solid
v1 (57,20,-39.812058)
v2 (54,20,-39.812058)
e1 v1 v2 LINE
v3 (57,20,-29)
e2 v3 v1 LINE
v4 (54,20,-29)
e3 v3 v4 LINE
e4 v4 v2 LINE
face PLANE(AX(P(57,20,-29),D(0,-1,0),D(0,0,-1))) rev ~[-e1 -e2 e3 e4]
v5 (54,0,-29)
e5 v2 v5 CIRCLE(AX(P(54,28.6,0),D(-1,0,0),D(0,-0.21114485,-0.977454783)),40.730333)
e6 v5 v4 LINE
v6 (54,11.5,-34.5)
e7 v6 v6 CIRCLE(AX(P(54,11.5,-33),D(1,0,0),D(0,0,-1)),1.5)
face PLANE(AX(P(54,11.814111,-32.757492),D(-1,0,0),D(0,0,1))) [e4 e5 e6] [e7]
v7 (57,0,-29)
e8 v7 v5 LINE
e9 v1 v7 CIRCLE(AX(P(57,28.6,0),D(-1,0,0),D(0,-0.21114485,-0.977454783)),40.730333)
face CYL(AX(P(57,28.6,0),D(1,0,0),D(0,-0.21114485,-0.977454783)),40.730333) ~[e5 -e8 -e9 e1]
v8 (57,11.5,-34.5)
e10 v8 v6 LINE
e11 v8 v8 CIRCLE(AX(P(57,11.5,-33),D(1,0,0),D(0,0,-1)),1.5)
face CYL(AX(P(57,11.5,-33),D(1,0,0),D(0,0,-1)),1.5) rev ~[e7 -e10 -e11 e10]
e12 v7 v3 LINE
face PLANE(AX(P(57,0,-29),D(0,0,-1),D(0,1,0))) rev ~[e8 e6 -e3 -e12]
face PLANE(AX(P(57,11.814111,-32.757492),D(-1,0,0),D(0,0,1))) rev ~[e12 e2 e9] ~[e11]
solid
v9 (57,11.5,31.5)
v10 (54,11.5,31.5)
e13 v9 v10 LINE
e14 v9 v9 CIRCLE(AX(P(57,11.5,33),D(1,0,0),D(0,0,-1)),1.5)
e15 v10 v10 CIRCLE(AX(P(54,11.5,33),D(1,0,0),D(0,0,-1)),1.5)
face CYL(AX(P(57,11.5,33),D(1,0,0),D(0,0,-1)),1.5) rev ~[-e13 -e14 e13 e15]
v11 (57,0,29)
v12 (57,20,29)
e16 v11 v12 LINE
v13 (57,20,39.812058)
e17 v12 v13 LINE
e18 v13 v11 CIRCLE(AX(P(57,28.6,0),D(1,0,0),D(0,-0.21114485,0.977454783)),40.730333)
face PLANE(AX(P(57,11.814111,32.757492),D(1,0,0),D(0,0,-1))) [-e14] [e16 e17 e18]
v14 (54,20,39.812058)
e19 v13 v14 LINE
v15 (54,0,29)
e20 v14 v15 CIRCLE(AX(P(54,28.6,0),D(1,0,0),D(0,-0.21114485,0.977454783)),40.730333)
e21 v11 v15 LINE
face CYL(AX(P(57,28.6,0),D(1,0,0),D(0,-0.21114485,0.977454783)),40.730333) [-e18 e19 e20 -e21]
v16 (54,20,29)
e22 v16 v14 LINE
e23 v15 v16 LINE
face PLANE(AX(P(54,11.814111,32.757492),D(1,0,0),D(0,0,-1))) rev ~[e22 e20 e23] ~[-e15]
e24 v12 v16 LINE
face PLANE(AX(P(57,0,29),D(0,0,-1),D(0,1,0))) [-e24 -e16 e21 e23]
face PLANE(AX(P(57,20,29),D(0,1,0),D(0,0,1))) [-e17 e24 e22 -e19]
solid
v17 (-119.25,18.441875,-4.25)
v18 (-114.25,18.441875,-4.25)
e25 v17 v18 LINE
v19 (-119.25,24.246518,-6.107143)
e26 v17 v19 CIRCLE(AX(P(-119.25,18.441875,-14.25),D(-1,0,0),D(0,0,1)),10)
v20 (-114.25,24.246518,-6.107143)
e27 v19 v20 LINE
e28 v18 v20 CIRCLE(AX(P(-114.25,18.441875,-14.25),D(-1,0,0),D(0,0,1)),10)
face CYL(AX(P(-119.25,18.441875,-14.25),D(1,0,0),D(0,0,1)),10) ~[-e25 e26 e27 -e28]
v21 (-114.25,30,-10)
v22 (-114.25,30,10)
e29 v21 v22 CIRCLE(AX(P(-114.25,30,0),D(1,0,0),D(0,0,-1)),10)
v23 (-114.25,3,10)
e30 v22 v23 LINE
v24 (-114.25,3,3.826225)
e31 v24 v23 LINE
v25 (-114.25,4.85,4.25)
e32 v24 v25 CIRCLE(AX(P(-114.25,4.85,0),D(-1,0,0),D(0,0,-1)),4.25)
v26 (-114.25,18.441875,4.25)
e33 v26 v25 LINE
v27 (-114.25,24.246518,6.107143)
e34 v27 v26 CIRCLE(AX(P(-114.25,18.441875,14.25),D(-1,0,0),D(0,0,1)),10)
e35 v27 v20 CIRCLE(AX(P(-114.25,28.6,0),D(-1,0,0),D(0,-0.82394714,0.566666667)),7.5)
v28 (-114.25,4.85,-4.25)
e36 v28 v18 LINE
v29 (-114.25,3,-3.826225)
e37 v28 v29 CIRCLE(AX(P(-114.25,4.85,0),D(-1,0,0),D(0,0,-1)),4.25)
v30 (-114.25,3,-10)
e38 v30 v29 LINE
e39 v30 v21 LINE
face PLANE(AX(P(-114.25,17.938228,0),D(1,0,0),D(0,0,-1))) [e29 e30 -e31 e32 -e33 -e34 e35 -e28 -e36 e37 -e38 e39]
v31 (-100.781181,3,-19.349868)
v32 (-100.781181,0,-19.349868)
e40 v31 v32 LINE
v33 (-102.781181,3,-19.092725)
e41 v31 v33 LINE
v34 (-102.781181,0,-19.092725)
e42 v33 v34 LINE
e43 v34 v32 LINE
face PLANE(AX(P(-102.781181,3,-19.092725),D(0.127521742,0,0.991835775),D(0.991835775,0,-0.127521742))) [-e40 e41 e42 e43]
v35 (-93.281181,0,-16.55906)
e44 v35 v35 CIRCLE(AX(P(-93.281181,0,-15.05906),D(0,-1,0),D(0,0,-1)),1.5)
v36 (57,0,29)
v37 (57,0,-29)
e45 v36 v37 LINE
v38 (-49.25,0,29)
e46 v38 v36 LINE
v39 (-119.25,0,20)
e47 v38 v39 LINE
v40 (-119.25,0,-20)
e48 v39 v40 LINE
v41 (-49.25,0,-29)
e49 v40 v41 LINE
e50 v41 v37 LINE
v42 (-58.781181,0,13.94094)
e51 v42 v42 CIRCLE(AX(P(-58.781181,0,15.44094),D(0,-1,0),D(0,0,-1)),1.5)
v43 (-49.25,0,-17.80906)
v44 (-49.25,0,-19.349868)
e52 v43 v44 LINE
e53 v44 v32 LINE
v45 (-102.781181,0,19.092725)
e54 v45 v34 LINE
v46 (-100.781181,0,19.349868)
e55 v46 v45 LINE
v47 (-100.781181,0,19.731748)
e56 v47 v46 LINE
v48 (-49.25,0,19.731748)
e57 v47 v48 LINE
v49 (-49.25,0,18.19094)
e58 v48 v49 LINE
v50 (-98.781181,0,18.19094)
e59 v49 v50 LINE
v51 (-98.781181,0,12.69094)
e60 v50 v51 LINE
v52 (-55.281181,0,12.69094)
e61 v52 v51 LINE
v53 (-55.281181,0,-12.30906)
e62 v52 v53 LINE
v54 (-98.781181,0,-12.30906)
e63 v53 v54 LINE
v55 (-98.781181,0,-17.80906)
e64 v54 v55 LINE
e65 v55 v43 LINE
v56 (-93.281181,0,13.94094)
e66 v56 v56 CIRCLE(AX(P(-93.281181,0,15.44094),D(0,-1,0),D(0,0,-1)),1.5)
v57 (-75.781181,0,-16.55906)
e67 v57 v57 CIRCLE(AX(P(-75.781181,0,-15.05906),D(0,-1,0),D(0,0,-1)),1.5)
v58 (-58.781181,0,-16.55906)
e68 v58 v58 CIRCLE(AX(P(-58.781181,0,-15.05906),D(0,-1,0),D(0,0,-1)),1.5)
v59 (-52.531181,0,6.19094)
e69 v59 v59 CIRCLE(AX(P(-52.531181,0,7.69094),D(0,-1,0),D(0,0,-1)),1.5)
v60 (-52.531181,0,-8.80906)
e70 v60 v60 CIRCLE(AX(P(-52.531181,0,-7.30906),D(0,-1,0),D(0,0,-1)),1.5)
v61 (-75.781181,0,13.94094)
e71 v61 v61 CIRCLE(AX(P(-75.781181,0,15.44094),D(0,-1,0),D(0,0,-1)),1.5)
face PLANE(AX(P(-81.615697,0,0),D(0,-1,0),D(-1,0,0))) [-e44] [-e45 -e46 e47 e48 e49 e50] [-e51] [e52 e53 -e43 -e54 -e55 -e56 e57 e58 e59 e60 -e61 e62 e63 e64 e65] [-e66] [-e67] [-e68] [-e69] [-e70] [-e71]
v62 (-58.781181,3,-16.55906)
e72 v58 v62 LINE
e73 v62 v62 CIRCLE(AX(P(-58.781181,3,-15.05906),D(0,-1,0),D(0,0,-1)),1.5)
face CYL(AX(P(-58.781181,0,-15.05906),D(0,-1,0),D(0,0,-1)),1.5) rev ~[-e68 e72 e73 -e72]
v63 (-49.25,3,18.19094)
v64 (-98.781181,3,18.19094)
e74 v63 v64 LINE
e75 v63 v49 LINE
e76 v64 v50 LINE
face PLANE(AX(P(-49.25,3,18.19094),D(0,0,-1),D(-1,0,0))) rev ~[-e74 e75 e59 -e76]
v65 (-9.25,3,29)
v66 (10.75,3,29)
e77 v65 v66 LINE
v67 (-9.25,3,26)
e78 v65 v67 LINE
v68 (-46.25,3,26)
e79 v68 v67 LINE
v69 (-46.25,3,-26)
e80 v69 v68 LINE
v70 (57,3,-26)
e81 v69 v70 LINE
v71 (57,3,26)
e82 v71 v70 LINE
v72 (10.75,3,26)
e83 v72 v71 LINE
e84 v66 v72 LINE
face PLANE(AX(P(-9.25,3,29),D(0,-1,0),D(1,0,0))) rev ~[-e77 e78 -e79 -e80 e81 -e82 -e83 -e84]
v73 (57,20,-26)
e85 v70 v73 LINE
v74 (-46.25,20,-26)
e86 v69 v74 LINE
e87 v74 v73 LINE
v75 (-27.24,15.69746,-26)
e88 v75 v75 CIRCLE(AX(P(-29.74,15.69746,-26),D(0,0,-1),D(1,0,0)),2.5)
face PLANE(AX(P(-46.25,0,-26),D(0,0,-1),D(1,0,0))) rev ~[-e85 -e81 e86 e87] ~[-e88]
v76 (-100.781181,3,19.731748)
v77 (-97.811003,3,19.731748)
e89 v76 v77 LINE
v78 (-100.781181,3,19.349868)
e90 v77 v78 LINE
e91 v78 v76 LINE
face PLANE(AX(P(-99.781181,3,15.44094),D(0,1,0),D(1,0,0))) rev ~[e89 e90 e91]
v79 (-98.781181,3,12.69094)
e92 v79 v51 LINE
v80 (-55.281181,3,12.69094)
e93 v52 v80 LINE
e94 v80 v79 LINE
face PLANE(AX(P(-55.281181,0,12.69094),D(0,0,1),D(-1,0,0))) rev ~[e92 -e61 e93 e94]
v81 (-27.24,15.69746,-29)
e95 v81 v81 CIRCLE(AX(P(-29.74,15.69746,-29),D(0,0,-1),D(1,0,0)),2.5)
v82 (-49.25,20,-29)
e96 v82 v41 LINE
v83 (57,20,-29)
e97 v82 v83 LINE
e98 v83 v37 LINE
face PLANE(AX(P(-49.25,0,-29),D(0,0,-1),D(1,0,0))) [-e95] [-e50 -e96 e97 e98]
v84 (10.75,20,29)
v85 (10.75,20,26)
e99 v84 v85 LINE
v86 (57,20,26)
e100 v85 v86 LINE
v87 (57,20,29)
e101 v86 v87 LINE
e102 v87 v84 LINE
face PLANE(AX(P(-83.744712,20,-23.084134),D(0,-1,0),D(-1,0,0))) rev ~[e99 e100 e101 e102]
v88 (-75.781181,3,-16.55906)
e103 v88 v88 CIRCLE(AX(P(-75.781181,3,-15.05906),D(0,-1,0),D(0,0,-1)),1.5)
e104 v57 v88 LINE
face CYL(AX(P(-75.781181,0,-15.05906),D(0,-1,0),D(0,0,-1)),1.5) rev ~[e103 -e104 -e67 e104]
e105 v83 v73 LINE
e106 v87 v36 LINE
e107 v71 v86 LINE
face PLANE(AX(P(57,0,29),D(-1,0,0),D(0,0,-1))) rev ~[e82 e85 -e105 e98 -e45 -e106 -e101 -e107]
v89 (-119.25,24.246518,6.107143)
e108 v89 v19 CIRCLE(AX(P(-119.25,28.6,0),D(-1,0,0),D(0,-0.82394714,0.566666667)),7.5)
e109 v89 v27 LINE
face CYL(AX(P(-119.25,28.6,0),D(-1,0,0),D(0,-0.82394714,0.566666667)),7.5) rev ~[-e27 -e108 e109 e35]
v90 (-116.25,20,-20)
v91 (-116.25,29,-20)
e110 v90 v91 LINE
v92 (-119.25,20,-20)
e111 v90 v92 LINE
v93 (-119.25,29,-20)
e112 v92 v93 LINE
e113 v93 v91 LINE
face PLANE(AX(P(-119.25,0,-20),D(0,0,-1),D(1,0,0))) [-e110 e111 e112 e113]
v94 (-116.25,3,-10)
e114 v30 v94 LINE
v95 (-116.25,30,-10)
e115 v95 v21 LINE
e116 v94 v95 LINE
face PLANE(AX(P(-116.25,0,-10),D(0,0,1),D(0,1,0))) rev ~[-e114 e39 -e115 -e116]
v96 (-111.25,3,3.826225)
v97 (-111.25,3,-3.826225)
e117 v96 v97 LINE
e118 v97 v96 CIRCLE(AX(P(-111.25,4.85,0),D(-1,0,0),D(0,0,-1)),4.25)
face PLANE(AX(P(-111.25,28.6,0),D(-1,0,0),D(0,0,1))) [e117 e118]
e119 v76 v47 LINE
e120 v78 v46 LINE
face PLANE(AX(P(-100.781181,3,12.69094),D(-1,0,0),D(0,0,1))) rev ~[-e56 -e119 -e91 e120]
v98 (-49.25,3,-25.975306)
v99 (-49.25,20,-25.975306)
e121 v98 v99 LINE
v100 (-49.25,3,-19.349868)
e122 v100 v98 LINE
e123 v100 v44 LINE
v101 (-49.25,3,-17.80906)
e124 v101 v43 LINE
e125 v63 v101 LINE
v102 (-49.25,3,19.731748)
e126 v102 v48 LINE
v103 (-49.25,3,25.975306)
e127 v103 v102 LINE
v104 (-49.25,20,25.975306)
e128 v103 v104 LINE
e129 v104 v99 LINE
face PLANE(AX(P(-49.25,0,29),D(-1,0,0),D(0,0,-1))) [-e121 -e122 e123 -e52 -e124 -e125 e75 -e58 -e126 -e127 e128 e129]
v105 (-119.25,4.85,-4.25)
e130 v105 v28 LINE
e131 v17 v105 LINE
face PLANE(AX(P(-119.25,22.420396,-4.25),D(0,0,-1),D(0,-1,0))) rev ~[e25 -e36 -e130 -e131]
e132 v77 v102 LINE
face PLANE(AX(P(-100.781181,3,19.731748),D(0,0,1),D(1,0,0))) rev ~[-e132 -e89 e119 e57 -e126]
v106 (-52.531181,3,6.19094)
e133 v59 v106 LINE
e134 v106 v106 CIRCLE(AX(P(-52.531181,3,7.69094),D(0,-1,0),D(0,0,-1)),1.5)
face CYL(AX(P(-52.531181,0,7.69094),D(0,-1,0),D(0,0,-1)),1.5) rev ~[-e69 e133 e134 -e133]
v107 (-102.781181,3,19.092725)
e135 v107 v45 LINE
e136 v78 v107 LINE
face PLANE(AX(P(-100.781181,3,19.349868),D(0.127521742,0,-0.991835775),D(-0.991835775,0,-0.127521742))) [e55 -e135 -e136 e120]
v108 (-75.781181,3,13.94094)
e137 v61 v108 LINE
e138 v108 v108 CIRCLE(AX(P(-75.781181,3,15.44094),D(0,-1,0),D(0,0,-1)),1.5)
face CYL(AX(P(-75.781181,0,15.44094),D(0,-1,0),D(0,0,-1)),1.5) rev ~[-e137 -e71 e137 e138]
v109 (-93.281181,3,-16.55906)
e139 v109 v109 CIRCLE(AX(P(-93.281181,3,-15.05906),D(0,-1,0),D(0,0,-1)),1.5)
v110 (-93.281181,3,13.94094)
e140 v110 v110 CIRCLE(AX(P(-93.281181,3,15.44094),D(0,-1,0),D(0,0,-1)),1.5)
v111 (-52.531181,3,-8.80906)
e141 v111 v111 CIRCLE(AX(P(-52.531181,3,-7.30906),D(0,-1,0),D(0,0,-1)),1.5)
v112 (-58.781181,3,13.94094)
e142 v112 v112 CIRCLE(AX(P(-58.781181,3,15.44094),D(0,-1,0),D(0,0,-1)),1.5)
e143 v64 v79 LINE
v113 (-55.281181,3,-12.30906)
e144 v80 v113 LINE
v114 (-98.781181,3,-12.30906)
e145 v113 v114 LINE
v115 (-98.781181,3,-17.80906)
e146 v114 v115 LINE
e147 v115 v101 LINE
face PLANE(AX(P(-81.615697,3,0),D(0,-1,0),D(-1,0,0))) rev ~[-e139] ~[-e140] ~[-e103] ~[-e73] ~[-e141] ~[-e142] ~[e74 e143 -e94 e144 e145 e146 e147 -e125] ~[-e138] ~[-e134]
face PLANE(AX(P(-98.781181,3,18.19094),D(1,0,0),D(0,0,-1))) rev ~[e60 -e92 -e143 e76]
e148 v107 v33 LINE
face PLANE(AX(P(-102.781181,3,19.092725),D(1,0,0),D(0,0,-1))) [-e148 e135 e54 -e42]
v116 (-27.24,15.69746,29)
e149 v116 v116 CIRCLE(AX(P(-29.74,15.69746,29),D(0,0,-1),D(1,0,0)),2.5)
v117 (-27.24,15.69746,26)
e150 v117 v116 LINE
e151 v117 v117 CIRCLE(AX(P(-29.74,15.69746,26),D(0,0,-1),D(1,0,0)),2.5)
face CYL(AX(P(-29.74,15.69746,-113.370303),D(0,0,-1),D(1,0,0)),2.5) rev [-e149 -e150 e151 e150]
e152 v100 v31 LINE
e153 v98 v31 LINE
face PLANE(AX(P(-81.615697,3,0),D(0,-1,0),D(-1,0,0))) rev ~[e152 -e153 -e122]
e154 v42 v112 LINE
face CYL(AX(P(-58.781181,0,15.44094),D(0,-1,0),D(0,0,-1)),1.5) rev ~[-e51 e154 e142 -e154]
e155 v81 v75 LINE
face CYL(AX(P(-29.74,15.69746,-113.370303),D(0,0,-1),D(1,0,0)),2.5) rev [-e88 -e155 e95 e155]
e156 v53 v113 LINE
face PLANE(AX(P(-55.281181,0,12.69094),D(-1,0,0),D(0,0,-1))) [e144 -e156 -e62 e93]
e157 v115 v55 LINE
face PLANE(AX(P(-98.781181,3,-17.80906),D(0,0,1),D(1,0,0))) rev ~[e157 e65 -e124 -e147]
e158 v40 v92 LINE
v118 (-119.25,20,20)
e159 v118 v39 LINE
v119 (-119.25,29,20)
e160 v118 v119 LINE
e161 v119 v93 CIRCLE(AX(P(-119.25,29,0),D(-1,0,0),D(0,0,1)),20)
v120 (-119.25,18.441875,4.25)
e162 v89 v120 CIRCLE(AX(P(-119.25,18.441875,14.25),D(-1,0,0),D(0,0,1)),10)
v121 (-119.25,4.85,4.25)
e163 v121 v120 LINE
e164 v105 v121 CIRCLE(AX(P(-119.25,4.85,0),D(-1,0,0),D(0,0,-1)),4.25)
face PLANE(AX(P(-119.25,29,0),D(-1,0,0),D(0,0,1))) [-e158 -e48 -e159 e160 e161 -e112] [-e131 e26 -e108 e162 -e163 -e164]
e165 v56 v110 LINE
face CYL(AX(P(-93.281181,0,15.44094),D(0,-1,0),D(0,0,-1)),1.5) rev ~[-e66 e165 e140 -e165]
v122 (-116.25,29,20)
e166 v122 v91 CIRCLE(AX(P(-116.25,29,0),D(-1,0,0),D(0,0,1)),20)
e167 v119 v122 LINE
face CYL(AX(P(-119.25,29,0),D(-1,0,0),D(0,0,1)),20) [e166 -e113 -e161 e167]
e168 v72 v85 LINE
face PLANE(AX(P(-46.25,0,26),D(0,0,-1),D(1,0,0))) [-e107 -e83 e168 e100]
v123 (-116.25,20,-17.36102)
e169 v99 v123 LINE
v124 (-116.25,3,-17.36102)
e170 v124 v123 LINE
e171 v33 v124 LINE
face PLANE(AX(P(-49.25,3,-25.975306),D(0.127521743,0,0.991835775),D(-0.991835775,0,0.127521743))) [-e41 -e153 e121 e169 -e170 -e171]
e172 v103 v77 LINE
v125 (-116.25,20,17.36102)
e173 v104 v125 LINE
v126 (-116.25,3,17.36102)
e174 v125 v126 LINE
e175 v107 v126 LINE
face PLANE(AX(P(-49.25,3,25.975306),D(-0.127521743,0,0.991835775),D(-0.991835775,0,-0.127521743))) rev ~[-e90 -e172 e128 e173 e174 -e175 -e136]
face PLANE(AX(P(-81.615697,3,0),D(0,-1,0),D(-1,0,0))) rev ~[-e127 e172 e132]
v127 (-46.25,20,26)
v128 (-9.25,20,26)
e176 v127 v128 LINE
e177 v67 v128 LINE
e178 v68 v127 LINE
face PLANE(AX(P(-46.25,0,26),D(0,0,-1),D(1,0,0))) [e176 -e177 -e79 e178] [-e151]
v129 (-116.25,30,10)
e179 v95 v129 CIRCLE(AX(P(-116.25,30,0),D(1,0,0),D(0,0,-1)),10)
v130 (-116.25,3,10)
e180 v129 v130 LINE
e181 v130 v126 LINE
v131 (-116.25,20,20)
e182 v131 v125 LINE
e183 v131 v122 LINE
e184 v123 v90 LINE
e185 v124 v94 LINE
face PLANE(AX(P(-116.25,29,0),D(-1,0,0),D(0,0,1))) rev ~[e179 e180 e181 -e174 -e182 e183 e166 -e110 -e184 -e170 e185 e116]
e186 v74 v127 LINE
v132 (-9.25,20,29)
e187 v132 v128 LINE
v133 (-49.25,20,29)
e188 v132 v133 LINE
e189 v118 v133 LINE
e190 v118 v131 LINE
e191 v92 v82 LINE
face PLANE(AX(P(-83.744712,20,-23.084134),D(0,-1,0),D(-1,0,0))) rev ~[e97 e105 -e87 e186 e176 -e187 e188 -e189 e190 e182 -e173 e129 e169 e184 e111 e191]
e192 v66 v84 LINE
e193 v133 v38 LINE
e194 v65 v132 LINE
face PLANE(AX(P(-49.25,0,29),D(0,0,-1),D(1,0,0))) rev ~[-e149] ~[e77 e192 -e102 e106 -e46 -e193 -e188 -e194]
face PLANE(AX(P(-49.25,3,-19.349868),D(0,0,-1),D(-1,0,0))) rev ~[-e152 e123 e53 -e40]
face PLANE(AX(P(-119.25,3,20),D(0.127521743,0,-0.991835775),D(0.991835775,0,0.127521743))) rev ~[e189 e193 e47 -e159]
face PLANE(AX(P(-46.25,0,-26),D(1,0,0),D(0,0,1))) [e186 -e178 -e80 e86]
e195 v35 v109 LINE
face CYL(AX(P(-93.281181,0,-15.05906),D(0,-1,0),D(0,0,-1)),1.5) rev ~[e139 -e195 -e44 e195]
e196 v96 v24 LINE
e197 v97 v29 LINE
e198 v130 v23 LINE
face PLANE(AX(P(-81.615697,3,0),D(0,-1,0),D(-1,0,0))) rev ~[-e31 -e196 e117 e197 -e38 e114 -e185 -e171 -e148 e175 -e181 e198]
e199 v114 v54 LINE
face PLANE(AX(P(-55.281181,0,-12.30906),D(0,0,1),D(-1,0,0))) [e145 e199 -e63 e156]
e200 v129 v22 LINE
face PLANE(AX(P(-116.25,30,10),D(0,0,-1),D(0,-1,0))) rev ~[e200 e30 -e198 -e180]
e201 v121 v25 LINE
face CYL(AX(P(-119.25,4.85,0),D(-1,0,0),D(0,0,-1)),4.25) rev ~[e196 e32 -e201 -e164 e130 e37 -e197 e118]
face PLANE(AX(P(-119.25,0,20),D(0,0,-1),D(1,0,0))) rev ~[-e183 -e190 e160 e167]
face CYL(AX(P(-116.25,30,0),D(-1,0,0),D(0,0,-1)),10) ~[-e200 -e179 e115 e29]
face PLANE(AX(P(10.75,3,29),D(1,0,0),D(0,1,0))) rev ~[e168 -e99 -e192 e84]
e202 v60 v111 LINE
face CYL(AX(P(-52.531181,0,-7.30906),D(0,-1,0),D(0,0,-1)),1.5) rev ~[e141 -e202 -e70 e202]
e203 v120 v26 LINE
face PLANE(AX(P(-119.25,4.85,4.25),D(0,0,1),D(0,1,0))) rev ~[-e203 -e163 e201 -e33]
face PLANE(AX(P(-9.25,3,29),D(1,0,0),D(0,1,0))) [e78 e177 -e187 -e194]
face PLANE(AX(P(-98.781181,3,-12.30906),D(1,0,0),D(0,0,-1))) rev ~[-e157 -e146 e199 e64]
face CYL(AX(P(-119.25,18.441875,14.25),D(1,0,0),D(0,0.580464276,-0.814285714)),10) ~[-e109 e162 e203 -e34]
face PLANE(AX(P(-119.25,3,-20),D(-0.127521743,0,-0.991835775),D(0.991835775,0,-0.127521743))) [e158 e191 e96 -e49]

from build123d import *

# Parameters (mm, degrees)
SKETCH2_W               = 106.25
SKETCH2_H               = 58
BOSS_EXTRUDE1_DEPTH     = 3
SKETCH3_W               = 103.25
SKETCH3_H               = 3
BOSS_EXTRUDE2_DEPTH     = 20
SKETCH4_W               = 3
SKETCH4_H               = 40
BOSS_EXTRUDE3_DEPTH     = 29
BOSS_EXTRUDE4_DEPTH     = 17
SKETCH6_R               = 20
BOSS_EXTRUDE5_DEPTH     = 3
SKETCH19_R              = 1.5
BOSS_EXTRUDE9_DEPTH     = 2
CUT_EXTRUDE3_DEPTH      = 142.370302751
CUT_EXTRUDE3_DEPTH_BACK = 142.370302751
SKETCH10_R              = 2.5
SKETCH16_R              = 1.5
BOSS_EXTRUDE8_DEPTH     = 3
BOSS_EXTRUDE8_2_DEPTH   = 3
SKETCH18_W              = 20
SKETCH18_H              = 17
CUT_EXTRUDE5_DEPTH      = 3
SKETCH20_R              = 7.5
CUT_EXTRUDE6_DEPTH      = 8
FILLET1_R               = 10
SKETCH21_R              = 1.5
SKETCH21_W              = 45.5
SKETCH21_H              = 25
CUT_EXTRUDE7_DEPTH      = 3
SKETCH23_W              = 2
SKETCH23_H              = 5.5
CUT_EXTRUDE8_DEPTH      = 3
CUT_EXTRUDE9_DEPTH      = 3


with BuildPart() as part:
    # Sketch2 → Boss-Extrude1 (new body)
    with BuildSketch(Plane(origin=(0, 0, 0), x_dir=(1, 0, 0), z_dir=(0, 1, 0))):
        Polygon((-119.25, 20), (-49.25, 29), (-49.25, -29), (-119.25, -20), align=None)
        with Locations((3.875, 0)):
            Rectangle(SKETCH2_W, SKETCH2_H)
    extrude(amount=BOSS_EXTRUDE1_DEPTH)

    # Sketch3 → Boss-Extrude2 (add)
    with BuildSketch(Plane.XZ):
        with Locations((5.375, 27.5)):
            Rectangle(SKETCH3_W, SKETCH3_H)
        Polygon((-46.25, 29), (-49.25, 29), (-49.25, 25.975305716), (-49.25, -25.975305716), (-49.25, -29), (-46.25, -29), (-46.25, -26), (-46.25, 26), align=None)
        with Locations((5.375, -27.5)):
            Rectangle(SKETCH3_W, SKETCH3_H)
    extrude(amount=-BOSS_EXTRUDE2_DEPTH)

    # Sketch4 → Boss-Extrude3 (add)
    with BuildSketch(Plane.XZ):
        with Locations((-117.75, 0)):
            Rectangle(SKETCH4_W, SKETCH4_H)
    extrude(amount=-BOSS_EXTRUDE3_DEPTH)

    # Sketch5 → Boss-Extrude4 (add)
    with BuildSketch(Plane(origin=(0, 3, 0), x_dir=(1, 0, 0), z_dir=(0, 1, 0))):
        Polygon((-49.25, 25.975305716), (-116.25, 17.361020002), (-119.25, 20), (-49.25, 29), align=None)
        Polygon((-49.25, -25.975305716), (-116.25, -17.361020002), (-119.25, -20), (-49.25, -29), align=None)
    extrude(amount=BOSS_EXTRUDE4_DEPTH)

    # Sketch6 → Boss-Extrude5 (add)
    with BuildSketch(Plane.ZY.offset(119.25)):
        with Locations((0, 29)):
            Circle(SKETCH6_R)
    extrude(amount=-BOSS_EXTRUDE5_DEPTH)

    # Sketch19 → Boss-Extrude9 (add)
    with BuildSketch(Plane(origin=(-116.25, 0, 0), x_dir=(0, 0, -1), z_dir=(1, 0, 0))):
        with BuildLine():
            Line((-9.999999939, 30), (-9.999999939, 0))
            Line((-9.999999939, 0), (9.999999939, 0))
            Line((9.999999939, 0), (9.999999939, 30))
            ThreePointArc((9.999999939, 30), (0, 39.999999939), (-9.999999939, 30))
        make_face()
        with Locations((0, 30)):
            Circle(SKETCH19_R, mode=Mode.SUBTRACT)
    extrude(amount=BOSS_EXTRUDE9_DEPTH)

    # Sketch10 → Cut-Extrude3 (cut, two sides: drawn at the far end of the back side and taken through both)
    with BuildSketch(Plane.XY.offset(29).offset(-CUT_EXTRUDE3_DEPTH_BACK)):
        with Locations((-29.74, 15.69746)):
            Circle(SKETCH10_R)
    extrude(amount=CUT_EXTRUDE3_DEPTH + CUT_EXTRUDE3_DEPTH_BACK, mode=Mode.SUBTRACT)

    # Sketch18 → Cut-Extrude5 (cut)
    with BuildSketch(Plane.XY.offset(29)):
        with Locations((0.75, 11.5)):
            Rectangle(SKETCH18_W, SKETCH18_H)
    extrude(amount=-CUT_EXTRUDE5_DEPTH, mode=Mode.SUBTRACT)

    # Sketch20 → Cut-Extrude6 (cut)
    with BuildSketch(Plane.ZY.offset(119.25)):
        with Locations((0, 28.6)):
            Circle(SKETCH20_R)
        with BuildLine():
            Line((-4.25, 28.6), (-4.25, 4.85))
            ThreePointArc((-4.25, 4.85), (0, 0.6), (4.25, 4.85))
            Line((4.25, 4.85), (4.25, 28.6))
            ThreePointArc((4.25, 28.6), (0, 32.85), (-4.25, 28.6))
        make_face()
    extrude(amount=-CUT_EXTRUDE6_DEPTH, mode=Mode.SUBTRACT)

    # Fillet1
    fillet1_edges = [part.edges().sort_by_distance(p)[0] for p in [
        (-116.75, 22.420396453, -4.25),
        (-116.75, 22.420396453, 4.25),
    ]]
    fillet(fillet1_edges, radius=FILLET1_R)

    # Sketch21 → Cut-Extrude7 (cut)
    with BuildSketch(Plane(origin=(0, 0, 0), x_dir=(-1, 0, 0), z_dir=(0, -1, 0))):
        with Locations(Location((93.281180611, -15.44093997, 0), (0, 0, 90))):
            Circle(SKETCH21_R)
        with Locations(Location((75.781180611, -15.44093997, 0), (0, 0, 90))):
            Circle(SKETCH21_R)
        with Locations(Location((58.781180611, -15.44093997, 0), (0, 0, 90))):
            Circle(SKETCH21_R)
        with Locations(Location((52.531180611, -7.69093997, 0), (0, 0, 90))):
            Circle(SKETCH21_R)
        with Locations(Location((52.531180611, 7.30906003, 0), (0, 0, 90))):
            Circle(SKETCH21_R)
        with Locations(Location((58.781180611, 15.05906003, 0), (0, 0, 90))):
            Circle(SKETCH21_R)
        with Locations(Location((75.781180611, 15.05906003, 0), (0, 0, 90))):
            Circle(SKETCH21_R)
        with Locations(Location((93.281180611, 15.05906003, 0), (0, 0, 90))):
            Circle(SKETCH21_R)
        with Locations((78.031180611, -0.19093997)):
            Rectangle(SKETCH21_W, SKETCH21_H)
    extrude(amount=-CUT_EXTRUDE7_DEPTH, mode=Mode.SUBTRACT)

    # Sketch23 → Cut-Extrude8 (cut)
    with BuildSketch(Plane(origin=(0, 3, 0), x_dir=(1, 0, 0), z_dir=(0, 1, 0))):
        with Locations((-99.781180611, 15.05906003)):
            Rectangle(SKETCH23_W, SKETCH23_H)
        Polygon((-100.781180611, 19.349868209), (-100.781180611, 17.80906003), (-98.781180611, 17.80906003), (-49.25, 17.80906003), (-49.25, 19.349868209), align=None)
        with Locations((-99.781180611, -15.44093997)):
            Rectangle(SKETCH23_W, SKETCH23_H)
        Polygon((-98.781180611, -18.19093997), (-100.781180611, -18.19093997), (-100.781180611, -19.73174815), (-49.25, -19.73174815), (-49.25, -18.19093997), align=None)
    extrude(amount=-CUT_EXTRUDE8_DEPTH, mode=Mode.SUBTRACT)

    # Sketch24 → Cut-Extrude9 (cut)
    with BuildSketch(Plane(origin=(0, 3, 0), x_dir=(1, 0, 0), z_dir=(0, 1, 0))):
        Polygon((-100.781180611, 19.349868209), (-100.781180611, -19.349868209), (-102.781180611, -19.092725352), (-102.781180611, 19.092725352), align=None)
    extrude(amount=-CUT_EXTRUDE9_DEPTH, mode=Mode.SUBTRACT)


with BuildPart() as body_2:
    # Sketch16 → Boss-Extrude8 (new body)
    with BuildSketch(Plane(origin=(57, 0, 0), x_dir=(0, 0, -1), z_dir=(1, 0, 0))):
        with BuildLine():
            Line((-29, 20), (-39.812058475, 20))
            ThreePointArc((-39.812058475, 20), (-35.829803905, 9.230303252), (-29, 0))
            Line((-29, 0), (-29, 20))
        make_face()
        with Locations((-33, 11.5)):
            Circle(SKETCH16_R, mode=Mode.SUBTRACT)
    extrude(amount=-BOSS_EXTRUDE8_DEPTH)


with BuildPart() as body_3:
    # Sketch16 → Boss-Extrude8 2 (new body)
    with BuildSketch(Plane(origin=(57, 0, 0), x_dir=(0, 0, -1), z_dir=(1, 0, 0))):
        with BuildLine():
            Line((29, 20), (39.812058475, 20))
            ThreePointArc((39.812058475, 20), (35.829803905, 9.230303252), (29, 0))
            Line((29, 0), (29, 20))
        make_face()
        with Locations((33, 11.5)):
            Circle(SKETCH16_R, mode=Mode.SUBTRACT)
    extrude(amount=-BOSS_EXTRUDE8_2_DEPTH)


solid = Compound([part.part, body_2.part, body_3.part])
